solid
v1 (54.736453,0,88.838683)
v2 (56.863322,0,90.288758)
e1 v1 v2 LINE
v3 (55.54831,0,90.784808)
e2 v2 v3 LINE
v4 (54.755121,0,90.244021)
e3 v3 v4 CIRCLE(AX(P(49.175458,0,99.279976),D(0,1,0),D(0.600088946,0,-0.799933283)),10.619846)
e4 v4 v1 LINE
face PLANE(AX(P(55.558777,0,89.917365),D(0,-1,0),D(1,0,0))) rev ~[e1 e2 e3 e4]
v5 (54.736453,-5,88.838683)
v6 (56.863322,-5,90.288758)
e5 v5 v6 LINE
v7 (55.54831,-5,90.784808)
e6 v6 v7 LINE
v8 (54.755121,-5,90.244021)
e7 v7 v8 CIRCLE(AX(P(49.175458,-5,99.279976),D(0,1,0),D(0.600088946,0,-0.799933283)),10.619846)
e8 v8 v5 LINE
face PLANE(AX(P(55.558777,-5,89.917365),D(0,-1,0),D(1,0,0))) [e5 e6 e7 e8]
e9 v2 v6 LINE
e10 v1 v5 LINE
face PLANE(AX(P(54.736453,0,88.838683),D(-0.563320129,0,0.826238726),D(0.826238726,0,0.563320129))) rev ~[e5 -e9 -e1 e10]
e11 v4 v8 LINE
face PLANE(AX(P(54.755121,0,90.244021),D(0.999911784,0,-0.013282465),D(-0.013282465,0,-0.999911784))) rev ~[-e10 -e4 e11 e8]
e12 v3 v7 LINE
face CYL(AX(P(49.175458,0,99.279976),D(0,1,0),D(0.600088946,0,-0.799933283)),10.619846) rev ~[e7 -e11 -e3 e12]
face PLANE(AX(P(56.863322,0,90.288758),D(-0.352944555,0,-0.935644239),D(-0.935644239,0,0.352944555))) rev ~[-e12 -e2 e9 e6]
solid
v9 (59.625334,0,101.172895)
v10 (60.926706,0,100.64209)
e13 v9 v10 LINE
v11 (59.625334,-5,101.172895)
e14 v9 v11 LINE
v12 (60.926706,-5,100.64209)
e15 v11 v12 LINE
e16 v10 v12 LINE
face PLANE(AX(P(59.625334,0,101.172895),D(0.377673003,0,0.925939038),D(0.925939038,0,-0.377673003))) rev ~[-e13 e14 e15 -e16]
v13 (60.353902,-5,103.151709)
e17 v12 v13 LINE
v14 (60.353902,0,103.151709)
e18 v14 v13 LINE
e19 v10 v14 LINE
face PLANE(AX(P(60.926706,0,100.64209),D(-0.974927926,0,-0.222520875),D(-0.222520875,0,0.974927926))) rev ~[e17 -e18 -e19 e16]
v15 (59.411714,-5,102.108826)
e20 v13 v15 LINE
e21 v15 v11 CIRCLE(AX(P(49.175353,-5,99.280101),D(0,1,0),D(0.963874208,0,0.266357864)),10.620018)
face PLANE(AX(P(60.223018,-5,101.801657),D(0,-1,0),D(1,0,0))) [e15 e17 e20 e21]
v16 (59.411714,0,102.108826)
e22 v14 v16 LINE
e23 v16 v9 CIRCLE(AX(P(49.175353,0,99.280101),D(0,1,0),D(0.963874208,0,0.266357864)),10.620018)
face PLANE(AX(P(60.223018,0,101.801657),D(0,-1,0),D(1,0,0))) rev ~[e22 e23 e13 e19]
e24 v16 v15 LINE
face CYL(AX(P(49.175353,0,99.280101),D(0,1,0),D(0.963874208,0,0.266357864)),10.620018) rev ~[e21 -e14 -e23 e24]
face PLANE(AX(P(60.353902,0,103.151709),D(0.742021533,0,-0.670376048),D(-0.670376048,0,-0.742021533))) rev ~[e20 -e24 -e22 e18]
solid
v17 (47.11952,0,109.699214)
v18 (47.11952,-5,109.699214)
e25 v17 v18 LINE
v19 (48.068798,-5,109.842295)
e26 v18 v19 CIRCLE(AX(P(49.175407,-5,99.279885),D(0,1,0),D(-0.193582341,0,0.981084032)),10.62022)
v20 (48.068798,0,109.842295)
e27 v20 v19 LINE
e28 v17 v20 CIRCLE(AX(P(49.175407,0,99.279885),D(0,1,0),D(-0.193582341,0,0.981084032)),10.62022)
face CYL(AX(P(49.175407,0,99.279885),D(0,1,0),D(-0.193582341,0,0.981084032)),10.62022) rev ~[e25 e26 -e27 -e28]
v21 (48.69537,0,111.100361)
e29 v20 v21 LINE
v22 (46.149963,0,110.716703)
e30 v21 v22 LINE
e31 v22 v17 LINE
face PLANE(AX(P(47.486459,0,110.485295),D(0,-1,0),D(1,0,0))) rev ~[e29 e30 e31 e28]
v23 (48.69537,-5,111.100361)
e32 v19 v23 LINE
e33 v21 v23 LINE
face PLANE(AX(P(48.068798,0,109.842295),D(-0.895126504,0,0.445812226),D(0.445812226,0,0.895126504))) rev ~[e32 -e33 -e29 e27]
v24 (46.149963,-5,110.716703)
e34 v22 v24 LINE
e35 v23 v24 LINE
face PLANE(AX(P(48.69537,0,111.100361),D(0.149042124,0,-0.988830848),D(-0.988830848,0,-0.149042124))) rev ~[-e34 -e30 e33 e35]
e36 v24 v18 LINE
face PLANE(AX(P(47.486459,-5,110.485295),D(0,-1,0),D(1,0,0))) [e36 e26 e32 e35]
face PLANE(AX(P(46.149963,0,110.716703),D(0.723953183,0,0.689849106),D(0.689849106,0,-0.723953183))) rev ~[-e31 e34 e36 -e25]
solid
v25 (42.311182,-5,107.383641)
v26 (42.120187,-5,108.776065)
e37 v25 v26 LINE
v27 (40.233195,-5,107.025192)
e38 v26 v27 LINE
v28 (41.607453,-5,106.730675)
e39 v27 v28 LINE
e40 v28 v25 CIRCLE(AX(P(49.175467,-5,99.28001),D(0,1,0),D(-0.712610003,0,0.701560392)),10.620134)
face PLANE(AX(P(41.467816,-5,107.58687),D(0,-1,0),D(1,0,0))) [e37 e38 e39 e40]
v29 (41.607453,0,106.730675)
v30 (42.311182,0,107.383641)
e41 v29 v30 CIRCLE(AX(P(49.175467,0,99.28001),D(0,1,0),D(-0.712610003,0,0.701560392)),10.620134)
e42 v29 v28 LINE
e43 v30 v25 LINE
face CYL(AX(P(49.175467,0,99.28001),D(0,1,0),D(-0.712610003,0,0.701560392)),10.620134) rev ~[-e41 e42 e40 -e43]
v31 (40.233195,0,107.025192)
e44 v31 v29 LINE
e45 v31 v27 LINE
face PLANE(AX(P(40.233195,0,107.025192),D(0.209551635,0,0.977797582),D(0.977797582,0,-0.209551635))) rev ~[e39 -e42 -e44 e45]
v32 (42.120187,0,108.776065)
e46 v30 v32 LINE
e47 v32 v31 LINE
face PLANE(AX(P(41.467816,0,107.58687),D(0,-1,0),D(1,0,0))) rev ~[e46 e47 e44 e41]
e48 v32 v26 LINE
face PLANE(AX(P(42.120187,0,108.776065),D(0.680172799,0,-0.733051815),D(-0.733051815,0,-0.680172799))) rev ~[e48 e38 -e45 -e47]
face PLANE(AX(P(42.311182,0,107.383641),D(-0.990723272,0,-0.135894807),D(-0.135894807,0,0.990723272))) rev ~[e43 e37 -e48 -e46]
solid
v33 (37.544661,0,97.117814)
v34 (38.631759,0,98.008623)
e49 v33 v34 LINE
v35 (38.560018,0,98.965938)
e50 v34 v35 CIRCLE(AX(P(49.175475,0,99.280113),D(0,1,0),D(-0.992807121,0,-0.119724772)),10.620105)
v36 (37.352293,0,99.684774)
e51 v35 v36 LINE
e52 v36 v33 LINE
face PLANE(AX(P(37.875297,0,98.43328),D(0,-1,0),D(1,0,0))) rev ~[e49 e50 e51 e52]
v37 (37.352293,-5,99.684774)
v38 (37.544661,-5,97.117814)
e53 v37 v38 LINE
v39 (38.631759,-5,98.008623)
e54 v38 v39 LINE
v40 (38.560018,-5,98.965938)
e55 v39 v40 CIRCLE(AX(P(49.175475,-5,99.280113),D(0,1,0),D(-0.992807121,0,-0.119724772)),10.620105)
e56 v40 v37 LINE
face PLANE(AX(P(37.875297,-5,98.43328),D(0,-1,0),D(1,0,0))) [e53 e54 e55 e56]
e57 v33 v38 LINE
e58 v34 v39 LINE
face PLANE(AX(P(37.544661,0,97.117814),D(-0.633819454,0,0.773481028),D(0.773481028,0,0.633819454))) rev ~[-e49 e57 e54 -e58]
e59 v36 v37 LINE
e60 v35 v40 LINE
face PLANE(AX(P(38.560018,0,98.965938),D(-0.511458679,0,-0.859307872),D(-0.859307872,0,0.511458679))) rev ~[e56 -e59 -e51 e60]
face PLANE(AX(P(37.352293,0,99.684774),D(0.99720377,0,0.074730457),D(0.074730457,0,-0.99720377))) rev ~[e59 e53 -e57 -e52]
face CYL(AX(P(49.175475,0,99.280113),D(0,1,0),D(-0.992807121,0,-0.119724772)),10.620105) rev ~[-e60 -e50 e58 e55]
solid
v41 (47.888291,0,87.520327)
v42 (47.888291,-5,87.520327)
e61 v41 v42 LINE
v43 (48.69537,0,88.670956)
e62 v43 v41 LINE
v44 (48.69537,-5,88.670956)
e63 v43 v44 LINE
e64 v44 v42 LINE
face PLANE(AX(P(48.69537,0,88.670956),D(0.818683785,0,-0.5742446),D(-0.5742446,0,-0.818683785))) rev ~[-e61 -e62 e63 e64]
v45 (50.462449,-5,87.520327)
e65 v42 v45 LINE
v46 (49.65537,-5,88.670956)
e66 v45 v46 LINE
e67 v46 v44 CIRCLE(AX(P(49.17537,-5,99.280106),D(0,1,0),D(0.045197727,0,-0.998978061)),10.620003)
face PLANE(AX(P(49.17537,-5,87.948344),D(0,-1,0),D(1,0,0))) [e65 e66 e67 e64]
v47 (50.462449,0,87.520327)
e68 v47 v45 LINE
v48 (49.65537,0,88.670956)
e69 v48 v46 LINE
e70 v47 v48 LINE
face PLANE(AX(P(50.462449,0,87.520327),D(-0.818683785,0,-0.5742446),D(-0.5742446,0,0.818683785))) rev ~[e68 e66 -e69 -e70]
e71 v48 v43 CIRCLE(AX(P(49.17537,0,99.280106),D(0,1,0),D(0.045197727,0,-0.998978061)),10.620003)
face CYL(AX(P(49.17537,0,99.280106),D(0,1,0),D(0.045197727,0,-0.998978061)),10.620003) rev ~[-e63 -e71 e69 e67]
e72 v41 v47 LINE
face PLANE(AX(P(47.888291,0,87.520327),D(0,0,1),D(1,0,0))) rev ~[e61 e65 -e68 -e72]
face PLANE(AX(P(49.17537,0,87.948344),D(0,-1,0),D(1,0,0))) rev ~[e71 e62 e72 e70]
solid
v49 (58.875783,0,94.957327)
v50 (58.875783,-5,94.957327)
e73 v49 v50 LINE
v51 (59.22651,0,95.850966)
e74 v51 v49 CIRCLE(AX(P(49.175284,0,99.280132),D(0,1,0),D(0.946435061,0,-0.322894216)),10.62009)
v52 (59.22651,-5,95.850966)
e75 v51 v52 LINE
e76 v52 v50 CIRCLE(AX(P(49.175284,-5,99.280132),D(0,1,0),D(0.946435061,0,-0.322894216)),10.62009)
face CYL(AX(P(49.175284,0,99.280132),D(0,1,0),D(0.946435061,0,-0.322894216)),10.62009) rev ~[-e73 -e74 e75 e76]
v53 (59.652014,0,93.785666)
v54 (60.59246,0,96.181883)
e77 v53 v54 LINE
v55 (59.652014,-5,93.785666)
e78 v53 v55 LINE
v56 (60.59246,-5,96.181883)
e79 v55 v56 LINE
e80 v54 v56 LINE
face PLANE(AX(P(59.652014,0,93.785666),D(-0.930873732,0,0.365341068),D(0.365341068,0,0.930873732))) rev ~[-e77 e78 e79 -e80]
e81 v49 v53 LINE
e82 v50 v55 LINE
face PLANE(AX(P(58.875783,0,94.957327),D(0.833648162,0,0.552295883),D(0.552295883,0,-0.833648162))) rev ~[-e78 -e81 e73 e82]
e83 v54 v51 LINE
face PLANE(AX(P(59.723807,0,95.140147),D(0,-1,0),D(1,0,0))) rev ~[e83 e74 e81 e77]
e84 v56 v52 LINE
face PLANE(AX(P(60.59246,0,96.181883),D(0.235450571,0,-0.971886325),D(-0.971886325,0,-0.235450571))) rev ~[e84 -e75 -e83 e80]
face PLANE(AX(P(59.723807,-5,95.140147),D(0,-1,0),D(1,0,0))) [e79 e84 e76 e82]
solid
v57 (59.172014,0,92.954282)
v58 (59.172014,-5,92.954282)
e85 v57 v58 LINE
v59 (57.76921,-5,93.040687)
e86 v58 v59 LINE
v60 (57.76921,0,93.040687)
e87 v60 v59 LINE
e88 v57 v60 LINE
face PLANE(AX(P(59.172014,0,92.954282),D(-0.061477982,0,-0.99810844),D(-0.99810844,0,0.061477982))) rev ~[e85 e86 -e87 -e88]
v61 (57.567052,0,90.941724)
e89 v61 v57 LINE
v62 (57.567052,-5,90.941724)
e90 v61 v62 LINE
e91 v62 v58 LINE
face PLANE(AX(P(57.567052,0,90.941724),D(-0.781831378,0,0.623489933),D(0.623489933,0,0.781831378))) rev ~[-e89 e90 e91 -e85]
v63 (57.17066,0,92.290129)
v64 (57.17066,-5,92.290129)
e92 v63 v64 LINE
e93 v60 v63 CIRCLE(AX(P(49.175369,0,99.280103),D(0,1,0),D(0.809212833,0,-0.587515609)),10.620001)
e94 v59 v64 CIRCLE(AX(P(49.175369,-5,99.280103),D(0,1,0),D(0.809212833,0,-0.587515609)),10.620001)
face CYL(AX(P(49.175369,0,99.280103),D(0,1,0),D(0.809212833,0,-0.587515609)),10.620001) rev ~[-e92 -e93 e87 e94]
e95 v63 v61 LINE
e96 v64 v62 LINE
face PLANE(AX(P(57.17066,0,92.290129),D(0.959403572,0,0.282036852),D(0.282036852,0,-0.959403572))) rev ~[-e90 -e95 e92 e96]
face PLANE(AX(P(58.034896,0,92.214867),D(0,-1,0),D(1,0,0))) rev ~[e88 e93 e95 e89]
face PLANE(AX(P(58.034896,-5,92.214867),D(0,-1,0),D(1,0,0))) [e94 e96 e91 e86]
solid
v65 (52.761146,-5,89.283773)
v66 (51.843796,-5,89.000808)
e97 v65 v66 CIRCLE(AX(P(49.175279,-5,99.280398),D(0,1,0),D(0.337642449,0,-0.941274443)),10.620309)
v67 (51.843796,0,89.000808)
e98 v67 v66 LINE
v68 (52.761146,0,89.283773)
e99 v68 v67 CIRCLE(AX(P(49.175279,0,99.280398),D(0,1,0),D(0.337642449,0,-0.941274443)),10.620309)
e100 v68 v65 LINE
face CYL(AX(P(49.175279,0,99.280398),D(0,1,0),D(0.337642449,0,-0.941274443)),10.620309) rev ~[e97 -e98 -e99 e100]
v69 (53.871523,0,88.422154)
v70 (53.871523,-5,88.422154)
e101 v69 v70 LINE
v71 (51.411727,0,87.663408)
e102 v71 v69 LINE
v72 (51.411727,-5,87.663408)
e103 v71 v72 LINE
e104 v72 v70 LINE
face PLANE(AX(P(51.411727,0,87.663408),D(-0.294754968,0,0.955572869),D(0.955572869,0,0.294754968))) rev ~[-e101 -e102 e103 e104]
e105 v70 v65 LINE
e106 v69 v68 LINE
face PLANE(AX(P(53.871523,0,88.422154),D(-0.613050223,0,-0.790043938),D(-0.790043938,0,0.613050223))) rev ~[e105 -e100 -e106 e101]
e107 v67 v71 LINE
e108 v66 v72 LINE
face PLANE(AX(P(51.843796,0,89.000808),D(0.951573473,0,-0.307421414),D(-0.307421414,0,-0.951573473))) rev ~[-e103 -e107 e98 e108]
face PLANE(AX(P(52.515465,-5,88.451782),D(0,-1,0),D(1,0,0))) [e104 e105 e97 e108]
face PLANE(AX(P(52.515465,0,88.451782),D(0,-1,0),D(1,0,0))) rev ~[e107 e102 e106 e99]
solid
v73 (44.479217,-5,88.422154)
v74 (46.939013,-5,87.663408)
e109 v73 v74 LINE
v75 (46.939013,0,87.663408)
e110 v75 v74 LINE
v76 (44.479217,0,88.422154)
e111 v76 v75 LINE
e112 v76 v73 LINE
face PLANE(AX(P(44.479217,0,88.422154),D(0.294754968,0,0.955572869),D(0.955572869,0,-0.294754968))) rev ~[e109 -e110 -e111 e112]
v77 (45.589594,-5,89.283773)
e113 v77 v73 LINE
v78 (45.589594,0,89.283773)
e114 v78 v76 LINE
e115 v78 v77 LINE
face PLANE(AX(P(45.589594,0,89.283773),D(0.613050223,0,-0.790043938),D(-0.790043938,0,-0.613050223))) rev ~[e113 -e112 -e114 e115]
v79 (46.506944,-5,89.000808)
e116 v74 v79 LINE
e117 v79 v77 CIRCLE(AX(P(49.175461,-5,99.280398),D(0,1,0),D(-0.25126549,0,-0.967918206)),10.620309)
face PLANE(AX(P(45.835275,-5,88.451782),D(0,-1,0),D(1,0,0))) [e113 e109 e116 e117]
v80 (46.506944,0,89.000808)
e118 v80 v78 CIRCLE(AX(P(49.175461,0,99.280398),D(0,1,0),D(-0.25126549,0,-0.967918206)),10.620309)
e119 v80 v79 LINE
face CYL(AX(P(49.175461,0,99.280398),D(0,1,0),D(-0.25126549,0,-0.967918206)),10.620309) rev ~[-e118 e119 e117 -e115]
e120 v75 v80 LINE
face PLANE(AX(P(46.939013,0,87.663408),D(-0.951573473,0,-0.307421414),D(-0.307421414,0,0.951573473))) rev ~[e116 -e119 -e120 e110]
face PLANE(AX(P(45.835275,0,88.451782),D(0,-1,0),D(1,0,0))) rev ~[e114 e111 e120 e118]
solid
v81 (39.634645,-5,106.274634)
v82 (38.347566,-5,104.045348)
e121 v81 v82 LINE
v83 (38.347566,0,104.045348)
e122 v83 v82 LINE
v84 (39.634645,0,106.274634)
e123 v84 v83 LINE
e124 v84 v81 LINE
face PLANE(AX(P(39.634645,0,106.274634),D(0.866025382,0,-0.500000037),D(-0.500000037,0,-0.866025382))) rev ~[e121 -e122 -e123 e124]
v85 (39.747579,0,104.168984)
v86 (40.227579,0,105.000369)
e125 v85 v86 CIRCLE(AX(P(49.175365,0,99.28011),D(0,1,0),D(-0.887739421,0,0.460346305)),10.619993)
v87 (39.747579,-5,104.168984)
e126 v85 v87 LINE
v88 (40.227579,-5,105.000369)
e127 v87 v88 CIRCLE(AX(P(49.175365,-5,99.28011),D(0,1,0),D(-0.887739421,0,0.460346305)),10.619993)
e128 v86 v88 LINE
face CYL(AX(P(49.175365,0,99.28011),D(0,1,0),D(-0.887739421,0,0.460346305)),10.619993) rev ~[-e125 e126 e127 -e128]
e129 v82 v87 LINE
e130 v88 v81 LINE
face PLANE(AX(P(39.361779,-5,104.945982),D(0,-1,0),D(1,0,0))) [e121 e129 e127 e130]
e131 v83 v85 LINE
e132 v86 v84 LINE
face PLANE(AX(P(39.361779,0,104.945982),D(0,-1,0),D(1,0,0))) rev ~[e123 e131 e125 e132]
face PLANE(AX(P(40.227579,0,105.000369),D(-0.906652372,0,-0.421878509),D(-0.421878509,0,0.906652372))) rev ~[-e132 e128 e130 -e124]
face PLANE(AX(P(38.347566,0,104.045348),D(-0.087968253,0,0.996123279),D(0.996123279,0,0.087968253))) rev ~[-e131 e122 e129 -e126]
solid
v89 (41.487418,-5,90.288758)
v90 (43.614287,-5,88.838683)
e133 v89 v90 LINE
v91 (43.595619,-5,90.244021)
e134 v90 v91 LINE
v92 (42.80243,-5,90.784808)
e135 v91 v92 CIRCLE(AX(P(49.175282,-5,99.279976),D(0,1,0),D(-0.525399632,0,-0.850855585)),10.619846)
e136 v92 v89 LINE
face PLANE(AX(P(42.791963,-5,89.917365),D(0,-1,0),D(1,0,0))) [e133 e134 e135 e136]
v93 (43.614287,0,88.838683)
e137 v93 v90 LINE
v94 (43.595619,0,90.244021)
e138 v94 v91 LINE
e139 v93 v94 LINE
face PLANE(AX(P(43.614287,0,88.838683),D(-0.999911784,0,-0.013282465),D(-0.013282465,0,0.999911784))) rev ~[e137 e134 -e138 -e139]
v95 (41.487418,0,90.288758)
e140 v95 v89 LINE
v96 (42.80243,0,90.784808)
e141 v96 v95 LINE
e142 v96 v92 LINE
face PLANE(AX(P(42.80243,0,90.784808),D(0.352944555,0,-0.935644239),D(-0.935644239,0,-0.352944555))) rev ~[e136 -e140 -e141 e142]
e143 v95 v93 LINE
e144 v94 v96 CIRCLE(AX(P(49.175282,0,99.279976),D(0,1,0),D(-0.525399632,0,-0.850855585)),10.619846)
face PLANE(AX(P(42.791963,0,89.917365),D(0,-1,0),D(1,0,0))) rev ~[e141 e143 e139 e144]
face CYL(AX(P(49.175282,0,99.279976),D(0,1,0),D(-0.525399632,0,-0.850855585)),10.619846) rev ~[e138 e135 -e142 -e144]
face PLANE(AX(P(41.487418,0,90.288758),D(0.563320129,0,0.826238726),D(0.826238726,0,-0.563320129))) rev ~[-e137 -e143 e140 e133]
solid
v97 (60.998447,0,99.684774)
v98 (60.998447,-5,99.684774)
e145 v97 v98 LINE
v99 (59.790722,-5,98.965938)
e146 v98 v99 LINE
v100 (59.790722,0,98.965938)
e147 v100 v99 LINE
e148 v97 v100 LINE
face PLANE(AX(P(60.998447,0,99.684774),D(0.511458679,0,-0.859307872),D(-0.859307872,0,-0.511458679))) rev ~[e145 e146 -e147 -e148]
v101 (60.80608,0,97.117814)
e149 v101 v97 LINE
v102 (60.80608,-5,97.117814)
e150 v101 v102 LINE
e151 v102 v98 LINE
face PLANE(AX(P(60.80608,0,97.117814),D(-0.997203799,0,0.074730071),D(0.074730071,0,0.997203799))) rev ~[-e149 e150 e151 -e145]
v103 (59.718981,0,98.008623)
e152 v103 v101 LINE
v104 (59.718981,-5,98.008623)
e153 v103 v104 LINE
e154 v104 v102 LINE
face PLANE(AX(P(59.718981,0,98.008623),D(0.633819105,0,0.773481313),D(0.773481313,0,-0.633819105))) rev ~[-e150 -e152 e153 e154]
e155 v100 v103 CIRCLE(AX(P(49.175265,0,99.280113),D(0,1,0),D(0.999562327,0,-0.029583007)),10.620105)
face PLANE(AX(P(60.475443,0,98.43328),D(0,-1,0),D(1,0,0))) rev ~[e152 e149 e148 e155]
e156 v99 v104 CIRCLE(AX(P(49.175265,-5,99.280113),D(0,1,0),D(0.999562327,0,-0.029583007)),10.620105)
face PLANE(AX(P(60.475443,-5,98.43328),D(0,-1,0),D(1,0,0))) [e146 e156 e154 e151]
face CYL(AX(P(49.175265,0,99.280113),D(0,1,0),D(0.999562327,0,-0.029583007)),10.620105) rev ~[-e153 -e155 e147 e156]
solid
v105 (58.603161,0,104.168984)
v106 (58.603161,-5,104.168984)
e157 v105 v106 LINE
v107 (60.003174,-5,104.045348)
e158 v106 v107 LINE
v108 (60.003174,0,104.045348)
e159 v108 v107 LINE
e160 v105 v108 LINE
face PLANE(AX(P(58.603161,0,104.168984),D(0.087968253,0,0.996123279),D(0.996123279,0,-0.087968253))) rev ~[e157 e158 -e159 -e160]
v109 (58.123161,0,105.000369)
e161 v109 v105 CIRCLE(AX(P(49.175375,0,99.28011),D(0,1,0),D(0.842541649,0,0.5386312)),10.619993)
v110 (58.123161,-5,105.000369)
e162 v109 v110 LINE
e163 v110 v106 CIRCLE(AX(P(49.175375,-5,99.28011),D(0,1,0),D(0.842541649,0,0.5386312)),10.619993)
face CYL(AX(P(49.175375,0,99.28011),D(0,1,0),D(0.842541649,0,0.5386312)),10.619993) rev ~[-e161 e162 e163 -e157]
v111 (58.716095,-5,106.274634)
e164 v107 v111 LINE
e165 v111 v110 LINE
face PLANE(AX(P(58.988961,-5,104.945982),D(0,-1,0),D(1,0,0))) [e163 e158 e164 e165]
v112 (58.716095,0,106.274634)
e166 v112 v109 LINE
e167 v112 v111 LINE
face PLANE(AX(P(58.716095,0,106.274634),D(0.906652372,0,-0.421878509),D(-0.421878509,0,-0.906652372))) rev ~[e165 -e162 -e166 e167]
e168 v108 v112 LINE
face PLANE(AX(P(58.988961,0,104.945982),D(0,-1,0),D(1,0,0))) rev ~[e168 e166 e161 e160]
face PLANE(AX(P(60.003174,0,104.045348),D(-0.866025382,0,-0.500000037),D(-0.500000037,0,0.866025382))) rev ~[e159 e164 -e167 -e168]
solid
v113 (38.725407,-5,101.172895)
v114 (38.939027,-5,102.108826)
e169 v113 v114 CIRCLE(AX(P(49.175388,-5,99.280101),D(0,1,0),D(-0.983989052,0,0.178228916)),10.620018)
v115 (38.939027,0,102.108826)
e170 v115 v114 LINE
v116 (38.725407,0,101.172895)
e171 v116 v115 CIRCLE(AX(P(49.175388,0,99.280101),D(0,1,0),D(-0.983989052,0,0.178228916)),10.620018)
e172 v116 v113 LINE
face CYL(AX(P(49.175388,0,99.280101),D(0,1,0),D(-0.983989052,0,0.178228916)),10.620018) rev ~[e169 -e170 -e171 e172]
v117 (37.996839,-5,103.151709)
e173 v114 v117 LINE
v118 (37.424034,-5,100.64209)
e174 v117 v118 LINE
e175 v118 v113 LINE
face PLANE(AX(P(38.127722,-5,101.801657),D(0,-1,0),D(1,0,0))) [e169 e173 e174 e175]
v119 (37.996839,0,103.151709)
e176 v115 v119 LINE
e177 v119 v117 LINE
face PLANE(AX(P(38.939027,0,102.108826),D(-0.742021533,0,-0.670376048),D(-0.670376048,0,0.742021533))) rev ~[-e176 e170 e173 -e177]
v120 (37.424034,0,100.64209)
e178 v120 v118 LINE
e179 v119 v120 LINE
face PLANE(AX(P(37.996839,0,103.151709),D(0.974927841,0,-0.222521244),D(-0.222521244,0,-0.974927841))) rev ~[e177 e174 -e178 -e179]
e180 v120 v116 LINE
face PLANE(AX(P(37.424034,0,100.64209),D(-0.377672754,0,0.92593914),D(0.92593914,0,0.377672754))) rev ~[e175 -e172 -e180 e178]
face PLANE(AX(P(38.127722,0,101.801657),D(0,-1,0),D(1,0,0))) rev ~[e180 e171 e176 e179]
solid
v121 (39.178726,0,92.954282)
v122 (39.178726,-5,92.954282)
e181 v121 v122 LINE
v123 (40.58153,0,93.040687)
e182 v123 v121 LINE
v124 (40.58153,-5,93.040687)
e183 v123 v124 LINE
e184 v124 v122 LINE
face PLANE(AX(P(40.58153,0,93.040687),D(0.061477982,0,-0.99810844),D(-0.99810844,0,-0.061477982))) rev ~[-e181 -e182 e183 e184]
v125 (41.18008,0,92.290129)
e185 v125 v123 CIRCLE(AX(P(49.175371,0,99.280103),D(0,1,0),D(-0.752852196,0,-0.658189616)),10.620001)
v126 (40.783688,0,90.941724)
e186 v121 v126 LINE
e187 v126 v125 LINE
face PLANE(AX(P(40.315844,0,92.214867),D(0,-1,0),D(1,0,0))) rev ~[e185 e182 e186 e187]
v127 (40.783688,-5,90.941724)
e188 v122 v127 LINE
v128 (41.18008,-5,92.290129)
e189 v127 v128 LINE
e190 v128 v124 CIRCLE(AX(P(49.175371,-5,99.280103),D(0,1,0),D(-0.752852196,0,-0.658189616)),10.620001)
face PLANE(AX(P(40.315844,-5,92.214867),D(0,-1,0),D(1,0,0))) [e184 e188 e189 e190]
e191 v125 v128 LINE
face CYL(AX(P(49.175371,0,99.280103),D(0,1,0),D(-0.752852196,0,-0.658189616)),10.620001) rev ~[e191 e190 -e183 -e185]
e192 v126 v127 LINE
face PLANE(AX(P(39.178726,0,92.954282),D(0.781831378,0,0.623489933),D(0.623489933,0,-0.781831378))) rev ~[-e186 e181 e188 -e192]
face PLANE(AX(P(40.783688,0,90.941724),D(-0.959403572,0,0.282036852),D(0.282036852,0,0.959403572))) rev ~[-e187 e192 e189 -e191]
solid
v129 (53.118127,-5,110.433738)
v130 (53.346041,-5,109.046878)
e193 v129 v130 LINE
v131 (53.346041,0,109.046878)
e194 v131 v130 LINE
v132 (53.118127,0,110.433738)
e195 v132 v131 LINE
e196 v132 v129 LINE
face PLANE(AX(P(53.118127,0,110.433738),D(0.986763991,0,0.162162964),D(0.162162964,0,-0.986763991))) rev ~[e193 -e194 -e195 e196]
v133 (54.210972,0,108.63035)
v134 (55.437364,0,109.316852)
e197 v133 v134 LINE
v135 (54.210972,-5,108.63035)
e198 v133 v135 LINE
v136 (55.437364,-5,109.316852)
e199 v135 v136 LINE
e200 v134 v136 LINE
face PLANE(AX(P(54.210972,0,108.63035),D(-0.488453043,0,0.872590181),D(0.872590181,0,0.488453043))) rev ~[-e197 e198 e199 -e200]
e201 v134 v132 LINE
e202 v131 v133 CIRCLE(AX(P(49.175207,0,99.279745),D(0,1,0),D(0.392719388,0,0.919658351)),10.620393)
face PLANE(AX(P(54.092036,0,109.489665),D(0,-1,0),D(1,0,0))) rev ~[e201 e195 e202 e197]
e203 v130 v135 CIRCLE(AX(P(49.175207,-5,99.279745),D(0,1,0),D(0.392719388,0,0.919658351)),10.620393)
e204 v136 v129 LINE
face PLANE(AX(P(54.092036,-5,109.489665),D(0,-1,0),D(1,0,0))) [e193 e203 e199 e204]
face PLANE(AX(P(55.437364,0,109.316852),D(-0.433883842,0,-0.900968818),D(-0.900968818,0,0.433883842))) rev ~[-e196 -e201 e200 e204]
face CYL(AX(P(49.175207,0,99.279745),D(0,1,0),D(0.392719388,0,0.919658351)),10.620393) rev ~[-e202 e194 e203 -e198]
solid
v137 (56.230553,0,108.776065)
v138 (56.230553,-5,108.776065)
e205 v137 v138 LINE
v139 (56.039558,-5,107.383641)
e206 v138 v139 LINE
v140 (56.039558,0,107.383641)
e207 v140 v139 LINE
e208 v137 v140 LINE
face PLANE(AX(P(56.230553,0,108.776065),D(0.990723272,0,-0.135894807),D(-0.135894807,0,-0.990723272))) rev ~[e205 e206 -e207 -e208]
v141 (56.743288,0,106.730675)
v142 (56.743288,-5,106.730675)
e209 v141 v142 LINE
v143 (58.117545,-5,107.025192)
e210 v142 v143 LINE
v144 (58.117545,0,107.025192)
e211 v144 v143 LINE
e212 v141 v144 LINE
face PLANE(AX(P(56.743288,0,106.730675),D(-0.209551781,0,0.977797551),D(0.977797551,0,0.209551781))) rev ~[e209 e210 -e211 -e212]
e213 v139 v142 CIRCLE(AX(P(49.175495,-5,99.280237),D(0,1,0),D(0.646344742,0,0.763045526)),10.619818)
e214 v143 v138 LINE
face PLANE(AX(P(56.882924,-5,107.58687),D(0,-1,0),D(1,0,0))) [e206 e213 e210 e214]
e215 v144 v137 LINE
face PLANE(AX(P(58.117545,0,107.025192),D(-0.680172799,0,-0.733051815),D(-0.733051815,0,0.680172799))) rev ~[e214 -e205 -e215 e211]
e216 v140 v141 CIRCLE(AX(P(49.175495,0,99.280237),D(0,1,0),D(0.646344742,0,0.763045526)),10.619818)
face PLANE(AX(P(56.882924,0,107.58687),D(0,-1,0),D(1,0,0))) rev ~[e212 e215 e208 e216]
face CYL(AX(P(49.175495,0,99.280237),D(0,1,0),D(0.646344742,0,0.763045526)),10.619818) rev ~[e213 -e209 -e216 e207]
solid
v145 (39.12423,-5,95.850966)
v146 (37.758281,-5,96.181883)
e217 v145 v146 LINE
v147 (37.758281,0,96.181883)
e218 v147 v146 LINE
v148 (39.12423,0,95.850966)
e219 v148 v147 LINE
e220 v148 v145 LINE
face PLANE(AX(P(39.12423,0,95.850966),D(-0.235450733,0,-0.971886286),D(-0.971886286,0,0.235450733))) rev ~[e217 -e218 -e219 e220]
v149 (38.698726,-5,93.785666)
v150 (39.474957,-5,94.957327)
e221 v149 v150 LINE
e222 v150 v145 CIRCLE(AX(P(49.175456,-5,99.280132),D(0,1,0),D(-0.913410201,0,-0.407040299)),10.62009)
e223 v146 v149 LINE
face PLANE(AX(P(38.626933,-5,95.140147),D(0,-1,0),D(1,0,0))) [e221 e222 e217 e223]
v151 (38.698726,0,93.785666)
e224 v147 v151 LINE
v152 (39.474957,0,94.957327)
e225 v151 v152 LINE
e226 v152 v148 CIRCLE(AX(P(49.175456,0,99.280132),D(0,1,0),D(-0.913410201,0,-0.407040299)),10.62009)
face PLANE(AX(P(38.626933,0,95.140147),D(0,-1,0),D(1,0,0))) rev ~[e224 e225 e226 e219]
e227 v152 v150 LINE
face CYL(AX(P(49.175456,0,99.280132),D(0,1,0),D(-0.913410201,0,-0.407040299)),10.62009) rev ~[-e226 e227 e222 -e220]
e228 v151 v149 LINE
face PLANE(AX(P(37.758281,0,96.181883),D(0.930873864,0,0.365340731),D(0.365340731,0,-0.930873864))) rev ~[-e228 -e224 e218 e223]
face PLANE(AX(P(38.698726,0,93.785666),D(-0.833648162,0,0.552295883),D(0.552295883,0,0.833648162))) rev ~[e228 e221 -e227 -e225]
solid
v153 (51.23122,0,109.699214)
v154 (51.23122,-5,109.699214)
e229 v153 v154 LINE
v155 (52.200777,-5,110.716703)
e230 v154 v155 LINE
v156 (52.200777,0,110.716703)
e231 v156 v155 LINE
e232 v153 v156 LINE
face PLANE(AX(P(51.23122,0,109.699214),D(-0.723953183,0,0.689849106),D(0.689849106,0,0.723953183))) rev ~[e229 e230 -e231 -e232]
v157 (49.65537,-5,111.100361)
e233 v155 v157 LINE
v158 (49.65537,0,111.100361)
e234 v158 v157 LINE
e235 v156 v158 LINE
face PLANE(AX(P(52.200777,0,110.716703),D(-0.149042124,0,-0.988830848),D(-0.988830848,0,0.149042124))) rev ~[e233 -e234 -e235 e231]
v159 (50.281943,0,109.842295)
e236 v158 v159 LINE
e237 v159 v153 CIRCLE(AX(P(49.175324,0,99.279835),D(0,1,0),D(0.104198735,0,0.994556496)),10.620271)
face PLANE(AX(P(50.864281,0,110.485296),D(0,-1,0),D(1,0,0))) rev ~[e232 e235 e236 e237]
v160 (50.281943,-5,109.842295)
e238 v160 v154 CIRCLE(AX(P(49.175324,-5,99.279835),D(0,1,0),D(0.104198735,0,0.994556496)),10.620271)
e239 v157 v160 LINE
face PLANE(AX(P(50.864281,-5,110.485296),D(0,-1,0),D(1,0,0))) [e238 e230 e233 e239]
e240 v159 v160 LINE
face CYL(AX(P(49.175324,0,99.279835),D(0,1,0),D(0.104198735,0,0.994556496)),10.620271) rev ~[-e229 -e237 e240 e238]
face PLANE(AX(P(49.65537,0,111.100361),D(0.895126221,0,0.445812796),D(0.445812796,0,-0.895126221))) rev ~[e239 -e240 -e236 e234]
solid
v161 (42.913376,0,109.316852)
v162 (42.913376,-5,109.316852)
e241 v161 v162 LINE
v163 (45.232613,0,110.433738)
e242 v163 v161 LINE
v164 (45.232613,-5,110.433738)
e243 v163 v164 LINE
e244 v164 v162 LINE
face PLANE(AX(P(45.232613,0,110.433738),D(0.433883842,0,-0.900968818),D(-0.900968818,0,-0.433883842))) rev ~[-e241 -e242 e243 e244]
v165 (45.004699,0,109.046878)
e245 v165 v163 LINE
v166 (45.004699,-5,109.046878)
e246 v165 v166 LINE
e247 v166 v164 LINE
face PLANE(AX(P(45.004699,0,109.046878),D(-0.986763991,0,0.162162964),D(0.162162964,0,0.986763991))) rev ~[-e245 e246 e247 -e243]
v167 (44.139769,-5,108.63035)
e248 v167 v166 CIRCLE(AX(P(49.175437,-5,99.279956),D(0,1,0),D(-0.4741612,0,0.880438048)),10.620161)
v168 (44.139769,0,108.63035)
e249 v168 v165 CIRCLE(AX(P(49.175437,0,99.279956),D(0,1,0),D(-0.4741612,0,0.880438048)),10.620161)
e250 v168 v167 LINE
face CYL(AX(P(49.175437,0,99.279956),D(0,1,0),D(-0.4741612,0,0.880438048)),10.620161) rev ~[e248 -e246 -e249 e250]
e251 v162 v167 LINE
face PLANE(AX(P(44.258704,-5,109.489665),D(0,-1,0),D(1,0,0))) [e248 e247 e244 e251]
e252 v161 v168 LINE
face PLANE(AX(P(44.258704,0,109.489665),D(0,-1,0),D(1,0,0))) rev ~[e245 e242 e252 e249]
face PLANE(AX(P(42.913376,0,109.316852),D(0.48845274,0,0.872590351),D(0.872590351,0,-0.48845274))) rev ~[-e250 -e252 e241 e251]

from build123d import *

# Parameters (mm, degrees)
F1_DEPTH = 5


with BuildPart() as f1:
    # F0 (on Front) → F1 (new body)
    with BuildSketch(Plane.XZ):
        with BuildLine():
            Line((44.479217, 88.422154), (46.939013, 87.663408))
            Line((46.939013, 87.663408), (46.506944, 89.000808))
            ThreePointArc((46.506944, 89.000808), (46.04507, 89.13192), (45.589594, 89.283773))
            Line((45.589594, 89.283773), (44.479217, 88.422154))
        make_face()
        with BuildLine():
            Line((41.487418, 90.288758), (43.614287, 88.838683))
            Line((43.614287, 88.838683), (43.595619, 90.244021))
            ThreePointArc((43.595619, 90.244021), (43.192911, 90.505447), (42.80243, 90.784808))
            Line((42.80243, 90.784808), (41.487418, 90.288758))
        make_face()
        with BuildLine():
            Line((39.178726, 92.954282), (40.783688, 90.941724))
            Line((40.783688, 90.941724), (41.18008, 92.290129))
            ThreePointArc((41.18008, 92.290129), (40.87232, 92.658641), (40.58153, 93.040687))
            Line((40.58153, 93.040687), (39.178726, 92.954282))
        make_face()
        with BuildLine():
            Line((37.758281, 96.181883), (38.698726, 93.785666))
            Line((38.698726, 93.785666), (39.474957, 94.957327))
            ThreePointArc((39.474957, 94.957327), (39.289491, 95.400181), (39.12423, 95.850966))
            Line((39.12423, 95.850966), (37.758281, 96.181883))
        make_face()
        with BuildLine():
            Line((37.352293, 99.684774), (37.544661, 97.117814))
            Line((37.544661, 97.117814), (38.631759, 98.008623))
            ThreePointArc((38.631759, 98.008623), (38.585066, 98.486469), (38.560018, 98.965938))
            Line((38.560018, 98.965938), (37.352293, 99.684774))
        make_face()
        with BuildLine():
            Line((38.939027, 102.108826), (37.996839, 103.151709))
            Line((37.996839, 103.151709), (37.424034, 100.64209))
            Line((37.424034, 100.64209), (38.725407, 101.172895))
            ThreePointArc((38.725407, 101.172895), (38.821636, 101.643275), (38.939027, 102.108826))
        make_face()
        with BuildLine():
            Line((40.227579, 105.000369), (39.634645, 106.274634))
            Line((39.634645, 106.274634), (38.347566, 104.045348))
            Line((38.347566, 104.045348), (39.747579, 104.168984))
            ThreePointArc((39.747579, 104.168984), (39.97818, 104.590103), (40.227579, 105.000369))
        make_face()
        with BuildLine():
            Line((47.888291, 87.520327), (50.462449, 87.520327))
            Line((50.462449, 87.520327), (49.65537, 88.670956))
            ThreePointArc((49.65537, 88.670956), (49.17537, 88.660103), (48.69537, 88.670956))
            Line((48.69537, 88.670956), (47.888291, 87.520327))
        make_face()
        with BuildLine():
            Line((51.411727, 87.663408), (53.871523, 88.422154))
            Line((53.871523, 88.422154), (52.761146, 89.283773))
            ThreePointArc((52.761146, 89.283773), (52.30567, 89.13192), (51.843796, 89.000808))
            Line((51.843796, 89.000808), (51.411727, 87.663408))
        make_face()
        with BuildLine():
            Line((54.736453, 88.838683), (56.863322, 90.288758))
            Line((56.863322, 90.288758), (55.54831, 90.784808))
            ThreePointArc((55.54831, 90.784808), (55.157829, 90.505447), (54.755121, 90.244021))
            Line((54.755121, 90.244021), (54.736453, 88.838683))
        make_face()
        with BuildLine():
            Line((57.567052, 90.941724), (59.172014, 92.954282))
            Line((59.172014, 92.954282), (57.76921, 93.040687))
            ThreePointArc((57.76921, 93.040687), (57.47842, 92.658641), (57.17066, 92.290129))
            Line((57.17066, 92.290129), (57.567052, 90.941724))
        make_face()
        with BuildLine():
            Line((59.652014, 93.785666), (60.59246, 96.181883))
            Line((60.59246, 96.181883), (59.22651, 95.850966))
            ThreePointArc((59.22651, 95.850966), (59.061249, 95.400181), (58.875783, 94.957327))
            Line((58.875783, 94.957327), (59.652014, 93.785666))
        make_face()
        with BuildLine():
            Line((60.80608, 97.117814), (60.998447, 99.684774))
            Line((60.998447, 99.684774), (59.790722, 98.965938))
            ThreePointArc((59.790722, 98.965938), (59.765674, 98.486469), (59.718981, 98.008623))
            Line((59.718981, 98.008623), (60.80608, 97.117814))
        make_face()
        with BuildLine():
            Line((59.625334, 101.172895), (60.926706, 100.64209))
            Line((60.926706, 100.64209), (60.353902, 103.151709))
            Line((60.353902, 103.151709), (59.411714, 102.108826))
            ThreePointArc((59.411714, 102.108826), (59.529105, 101.643275), (59.625334, 101.172895))
        make_face()
        with BuildLine():
            Line((58.603161, 104.168984), (60.003174, 104.045348))
            Line((60.003174, 104.045348), (58.716095, 106.274634))
            Line((58.716095, 106.274634), (58.123161, 105.000369))
            ThreePointArc((58.123161, 105.000369), (58.37256, 104.590103), (58.603161, 104.168984))
        make_face()
        with BuildLine():
            Line((56.743288, 106.730675), (58.117545, 107.025192))
            Line((58.117545, 107.025192), (56.230553, 108.776065))
            Line((56.230553, 108.776065), (56.039558, 107.383641))
            ThreePointArc((56.039558, 107.383641), (56.398805, 107.065114), (56.743288, 106.730675))
        make_face()
        with BuildLine():
            Line((54.210972, 108.63035), (55.437364, 109.316852))
            Line((55.437364, 109.316852), (53.118127, 110.433738))
            Line((53.118127, 110.433738), (53.346041, 109.046878))
            ThreePointArc((53.346041, 109.046878), (53.783215, 108.848392), (54.210972, 108.63035))
        make_face()
        with BuildLine():
            Line((51.23122, 109.699214), (52.200777, 110.716703))
            Line((52.200777, 110.716703), (49.65537, 111.100361))
            Line((49.65537, 111.100361), (50.281943, 109.842295))
            ThreePointArc((50.281943, 109.842295), (50.758199, 109.781486), (51.23122, 109.699214))
        make_face()
        with BuildLine():
            Line((42.311182, 107.383641), (42.120187, 108.776065))
            Line((42.120187, 108.776065), (40.233195, 107.025192))
            Line((40.233195, 107.025192), (41.607453, 106.730675))
            ThreePointArc((41.607453, 106.730675), (41.951936, 107.065114), (42.311182, 107.383641))
        make_face()
        with BuildLine():
            Line((45.004699, 109.046878), (45.232613, 110.433738))
            Line((45.232613, 110.433738), (42.913376, 109.316852))
            Line((42.913376, 109.316852), (44.139769, 108.63035))
            ThreePointArc((44.139769, 108.63035), (44.567525, 108.848392), (45.004699, 109.046878))
        make_face()
        with BuildLine():
            Line((48.068798, 109.842295), (48.69537, 111.100361))
            Line((48.69537, 111.100361), (46.149963, 110.716703))
            Line((46.149963, 110.716703), (47.11952, 109.699214))
            ThreePointArc((47.11952, 109.699214), (47.592541, 109.781486), (48.068798, 109.842295))
        make_face()
    extrude(amount=F1_DEPTH)


solid = f1.part
